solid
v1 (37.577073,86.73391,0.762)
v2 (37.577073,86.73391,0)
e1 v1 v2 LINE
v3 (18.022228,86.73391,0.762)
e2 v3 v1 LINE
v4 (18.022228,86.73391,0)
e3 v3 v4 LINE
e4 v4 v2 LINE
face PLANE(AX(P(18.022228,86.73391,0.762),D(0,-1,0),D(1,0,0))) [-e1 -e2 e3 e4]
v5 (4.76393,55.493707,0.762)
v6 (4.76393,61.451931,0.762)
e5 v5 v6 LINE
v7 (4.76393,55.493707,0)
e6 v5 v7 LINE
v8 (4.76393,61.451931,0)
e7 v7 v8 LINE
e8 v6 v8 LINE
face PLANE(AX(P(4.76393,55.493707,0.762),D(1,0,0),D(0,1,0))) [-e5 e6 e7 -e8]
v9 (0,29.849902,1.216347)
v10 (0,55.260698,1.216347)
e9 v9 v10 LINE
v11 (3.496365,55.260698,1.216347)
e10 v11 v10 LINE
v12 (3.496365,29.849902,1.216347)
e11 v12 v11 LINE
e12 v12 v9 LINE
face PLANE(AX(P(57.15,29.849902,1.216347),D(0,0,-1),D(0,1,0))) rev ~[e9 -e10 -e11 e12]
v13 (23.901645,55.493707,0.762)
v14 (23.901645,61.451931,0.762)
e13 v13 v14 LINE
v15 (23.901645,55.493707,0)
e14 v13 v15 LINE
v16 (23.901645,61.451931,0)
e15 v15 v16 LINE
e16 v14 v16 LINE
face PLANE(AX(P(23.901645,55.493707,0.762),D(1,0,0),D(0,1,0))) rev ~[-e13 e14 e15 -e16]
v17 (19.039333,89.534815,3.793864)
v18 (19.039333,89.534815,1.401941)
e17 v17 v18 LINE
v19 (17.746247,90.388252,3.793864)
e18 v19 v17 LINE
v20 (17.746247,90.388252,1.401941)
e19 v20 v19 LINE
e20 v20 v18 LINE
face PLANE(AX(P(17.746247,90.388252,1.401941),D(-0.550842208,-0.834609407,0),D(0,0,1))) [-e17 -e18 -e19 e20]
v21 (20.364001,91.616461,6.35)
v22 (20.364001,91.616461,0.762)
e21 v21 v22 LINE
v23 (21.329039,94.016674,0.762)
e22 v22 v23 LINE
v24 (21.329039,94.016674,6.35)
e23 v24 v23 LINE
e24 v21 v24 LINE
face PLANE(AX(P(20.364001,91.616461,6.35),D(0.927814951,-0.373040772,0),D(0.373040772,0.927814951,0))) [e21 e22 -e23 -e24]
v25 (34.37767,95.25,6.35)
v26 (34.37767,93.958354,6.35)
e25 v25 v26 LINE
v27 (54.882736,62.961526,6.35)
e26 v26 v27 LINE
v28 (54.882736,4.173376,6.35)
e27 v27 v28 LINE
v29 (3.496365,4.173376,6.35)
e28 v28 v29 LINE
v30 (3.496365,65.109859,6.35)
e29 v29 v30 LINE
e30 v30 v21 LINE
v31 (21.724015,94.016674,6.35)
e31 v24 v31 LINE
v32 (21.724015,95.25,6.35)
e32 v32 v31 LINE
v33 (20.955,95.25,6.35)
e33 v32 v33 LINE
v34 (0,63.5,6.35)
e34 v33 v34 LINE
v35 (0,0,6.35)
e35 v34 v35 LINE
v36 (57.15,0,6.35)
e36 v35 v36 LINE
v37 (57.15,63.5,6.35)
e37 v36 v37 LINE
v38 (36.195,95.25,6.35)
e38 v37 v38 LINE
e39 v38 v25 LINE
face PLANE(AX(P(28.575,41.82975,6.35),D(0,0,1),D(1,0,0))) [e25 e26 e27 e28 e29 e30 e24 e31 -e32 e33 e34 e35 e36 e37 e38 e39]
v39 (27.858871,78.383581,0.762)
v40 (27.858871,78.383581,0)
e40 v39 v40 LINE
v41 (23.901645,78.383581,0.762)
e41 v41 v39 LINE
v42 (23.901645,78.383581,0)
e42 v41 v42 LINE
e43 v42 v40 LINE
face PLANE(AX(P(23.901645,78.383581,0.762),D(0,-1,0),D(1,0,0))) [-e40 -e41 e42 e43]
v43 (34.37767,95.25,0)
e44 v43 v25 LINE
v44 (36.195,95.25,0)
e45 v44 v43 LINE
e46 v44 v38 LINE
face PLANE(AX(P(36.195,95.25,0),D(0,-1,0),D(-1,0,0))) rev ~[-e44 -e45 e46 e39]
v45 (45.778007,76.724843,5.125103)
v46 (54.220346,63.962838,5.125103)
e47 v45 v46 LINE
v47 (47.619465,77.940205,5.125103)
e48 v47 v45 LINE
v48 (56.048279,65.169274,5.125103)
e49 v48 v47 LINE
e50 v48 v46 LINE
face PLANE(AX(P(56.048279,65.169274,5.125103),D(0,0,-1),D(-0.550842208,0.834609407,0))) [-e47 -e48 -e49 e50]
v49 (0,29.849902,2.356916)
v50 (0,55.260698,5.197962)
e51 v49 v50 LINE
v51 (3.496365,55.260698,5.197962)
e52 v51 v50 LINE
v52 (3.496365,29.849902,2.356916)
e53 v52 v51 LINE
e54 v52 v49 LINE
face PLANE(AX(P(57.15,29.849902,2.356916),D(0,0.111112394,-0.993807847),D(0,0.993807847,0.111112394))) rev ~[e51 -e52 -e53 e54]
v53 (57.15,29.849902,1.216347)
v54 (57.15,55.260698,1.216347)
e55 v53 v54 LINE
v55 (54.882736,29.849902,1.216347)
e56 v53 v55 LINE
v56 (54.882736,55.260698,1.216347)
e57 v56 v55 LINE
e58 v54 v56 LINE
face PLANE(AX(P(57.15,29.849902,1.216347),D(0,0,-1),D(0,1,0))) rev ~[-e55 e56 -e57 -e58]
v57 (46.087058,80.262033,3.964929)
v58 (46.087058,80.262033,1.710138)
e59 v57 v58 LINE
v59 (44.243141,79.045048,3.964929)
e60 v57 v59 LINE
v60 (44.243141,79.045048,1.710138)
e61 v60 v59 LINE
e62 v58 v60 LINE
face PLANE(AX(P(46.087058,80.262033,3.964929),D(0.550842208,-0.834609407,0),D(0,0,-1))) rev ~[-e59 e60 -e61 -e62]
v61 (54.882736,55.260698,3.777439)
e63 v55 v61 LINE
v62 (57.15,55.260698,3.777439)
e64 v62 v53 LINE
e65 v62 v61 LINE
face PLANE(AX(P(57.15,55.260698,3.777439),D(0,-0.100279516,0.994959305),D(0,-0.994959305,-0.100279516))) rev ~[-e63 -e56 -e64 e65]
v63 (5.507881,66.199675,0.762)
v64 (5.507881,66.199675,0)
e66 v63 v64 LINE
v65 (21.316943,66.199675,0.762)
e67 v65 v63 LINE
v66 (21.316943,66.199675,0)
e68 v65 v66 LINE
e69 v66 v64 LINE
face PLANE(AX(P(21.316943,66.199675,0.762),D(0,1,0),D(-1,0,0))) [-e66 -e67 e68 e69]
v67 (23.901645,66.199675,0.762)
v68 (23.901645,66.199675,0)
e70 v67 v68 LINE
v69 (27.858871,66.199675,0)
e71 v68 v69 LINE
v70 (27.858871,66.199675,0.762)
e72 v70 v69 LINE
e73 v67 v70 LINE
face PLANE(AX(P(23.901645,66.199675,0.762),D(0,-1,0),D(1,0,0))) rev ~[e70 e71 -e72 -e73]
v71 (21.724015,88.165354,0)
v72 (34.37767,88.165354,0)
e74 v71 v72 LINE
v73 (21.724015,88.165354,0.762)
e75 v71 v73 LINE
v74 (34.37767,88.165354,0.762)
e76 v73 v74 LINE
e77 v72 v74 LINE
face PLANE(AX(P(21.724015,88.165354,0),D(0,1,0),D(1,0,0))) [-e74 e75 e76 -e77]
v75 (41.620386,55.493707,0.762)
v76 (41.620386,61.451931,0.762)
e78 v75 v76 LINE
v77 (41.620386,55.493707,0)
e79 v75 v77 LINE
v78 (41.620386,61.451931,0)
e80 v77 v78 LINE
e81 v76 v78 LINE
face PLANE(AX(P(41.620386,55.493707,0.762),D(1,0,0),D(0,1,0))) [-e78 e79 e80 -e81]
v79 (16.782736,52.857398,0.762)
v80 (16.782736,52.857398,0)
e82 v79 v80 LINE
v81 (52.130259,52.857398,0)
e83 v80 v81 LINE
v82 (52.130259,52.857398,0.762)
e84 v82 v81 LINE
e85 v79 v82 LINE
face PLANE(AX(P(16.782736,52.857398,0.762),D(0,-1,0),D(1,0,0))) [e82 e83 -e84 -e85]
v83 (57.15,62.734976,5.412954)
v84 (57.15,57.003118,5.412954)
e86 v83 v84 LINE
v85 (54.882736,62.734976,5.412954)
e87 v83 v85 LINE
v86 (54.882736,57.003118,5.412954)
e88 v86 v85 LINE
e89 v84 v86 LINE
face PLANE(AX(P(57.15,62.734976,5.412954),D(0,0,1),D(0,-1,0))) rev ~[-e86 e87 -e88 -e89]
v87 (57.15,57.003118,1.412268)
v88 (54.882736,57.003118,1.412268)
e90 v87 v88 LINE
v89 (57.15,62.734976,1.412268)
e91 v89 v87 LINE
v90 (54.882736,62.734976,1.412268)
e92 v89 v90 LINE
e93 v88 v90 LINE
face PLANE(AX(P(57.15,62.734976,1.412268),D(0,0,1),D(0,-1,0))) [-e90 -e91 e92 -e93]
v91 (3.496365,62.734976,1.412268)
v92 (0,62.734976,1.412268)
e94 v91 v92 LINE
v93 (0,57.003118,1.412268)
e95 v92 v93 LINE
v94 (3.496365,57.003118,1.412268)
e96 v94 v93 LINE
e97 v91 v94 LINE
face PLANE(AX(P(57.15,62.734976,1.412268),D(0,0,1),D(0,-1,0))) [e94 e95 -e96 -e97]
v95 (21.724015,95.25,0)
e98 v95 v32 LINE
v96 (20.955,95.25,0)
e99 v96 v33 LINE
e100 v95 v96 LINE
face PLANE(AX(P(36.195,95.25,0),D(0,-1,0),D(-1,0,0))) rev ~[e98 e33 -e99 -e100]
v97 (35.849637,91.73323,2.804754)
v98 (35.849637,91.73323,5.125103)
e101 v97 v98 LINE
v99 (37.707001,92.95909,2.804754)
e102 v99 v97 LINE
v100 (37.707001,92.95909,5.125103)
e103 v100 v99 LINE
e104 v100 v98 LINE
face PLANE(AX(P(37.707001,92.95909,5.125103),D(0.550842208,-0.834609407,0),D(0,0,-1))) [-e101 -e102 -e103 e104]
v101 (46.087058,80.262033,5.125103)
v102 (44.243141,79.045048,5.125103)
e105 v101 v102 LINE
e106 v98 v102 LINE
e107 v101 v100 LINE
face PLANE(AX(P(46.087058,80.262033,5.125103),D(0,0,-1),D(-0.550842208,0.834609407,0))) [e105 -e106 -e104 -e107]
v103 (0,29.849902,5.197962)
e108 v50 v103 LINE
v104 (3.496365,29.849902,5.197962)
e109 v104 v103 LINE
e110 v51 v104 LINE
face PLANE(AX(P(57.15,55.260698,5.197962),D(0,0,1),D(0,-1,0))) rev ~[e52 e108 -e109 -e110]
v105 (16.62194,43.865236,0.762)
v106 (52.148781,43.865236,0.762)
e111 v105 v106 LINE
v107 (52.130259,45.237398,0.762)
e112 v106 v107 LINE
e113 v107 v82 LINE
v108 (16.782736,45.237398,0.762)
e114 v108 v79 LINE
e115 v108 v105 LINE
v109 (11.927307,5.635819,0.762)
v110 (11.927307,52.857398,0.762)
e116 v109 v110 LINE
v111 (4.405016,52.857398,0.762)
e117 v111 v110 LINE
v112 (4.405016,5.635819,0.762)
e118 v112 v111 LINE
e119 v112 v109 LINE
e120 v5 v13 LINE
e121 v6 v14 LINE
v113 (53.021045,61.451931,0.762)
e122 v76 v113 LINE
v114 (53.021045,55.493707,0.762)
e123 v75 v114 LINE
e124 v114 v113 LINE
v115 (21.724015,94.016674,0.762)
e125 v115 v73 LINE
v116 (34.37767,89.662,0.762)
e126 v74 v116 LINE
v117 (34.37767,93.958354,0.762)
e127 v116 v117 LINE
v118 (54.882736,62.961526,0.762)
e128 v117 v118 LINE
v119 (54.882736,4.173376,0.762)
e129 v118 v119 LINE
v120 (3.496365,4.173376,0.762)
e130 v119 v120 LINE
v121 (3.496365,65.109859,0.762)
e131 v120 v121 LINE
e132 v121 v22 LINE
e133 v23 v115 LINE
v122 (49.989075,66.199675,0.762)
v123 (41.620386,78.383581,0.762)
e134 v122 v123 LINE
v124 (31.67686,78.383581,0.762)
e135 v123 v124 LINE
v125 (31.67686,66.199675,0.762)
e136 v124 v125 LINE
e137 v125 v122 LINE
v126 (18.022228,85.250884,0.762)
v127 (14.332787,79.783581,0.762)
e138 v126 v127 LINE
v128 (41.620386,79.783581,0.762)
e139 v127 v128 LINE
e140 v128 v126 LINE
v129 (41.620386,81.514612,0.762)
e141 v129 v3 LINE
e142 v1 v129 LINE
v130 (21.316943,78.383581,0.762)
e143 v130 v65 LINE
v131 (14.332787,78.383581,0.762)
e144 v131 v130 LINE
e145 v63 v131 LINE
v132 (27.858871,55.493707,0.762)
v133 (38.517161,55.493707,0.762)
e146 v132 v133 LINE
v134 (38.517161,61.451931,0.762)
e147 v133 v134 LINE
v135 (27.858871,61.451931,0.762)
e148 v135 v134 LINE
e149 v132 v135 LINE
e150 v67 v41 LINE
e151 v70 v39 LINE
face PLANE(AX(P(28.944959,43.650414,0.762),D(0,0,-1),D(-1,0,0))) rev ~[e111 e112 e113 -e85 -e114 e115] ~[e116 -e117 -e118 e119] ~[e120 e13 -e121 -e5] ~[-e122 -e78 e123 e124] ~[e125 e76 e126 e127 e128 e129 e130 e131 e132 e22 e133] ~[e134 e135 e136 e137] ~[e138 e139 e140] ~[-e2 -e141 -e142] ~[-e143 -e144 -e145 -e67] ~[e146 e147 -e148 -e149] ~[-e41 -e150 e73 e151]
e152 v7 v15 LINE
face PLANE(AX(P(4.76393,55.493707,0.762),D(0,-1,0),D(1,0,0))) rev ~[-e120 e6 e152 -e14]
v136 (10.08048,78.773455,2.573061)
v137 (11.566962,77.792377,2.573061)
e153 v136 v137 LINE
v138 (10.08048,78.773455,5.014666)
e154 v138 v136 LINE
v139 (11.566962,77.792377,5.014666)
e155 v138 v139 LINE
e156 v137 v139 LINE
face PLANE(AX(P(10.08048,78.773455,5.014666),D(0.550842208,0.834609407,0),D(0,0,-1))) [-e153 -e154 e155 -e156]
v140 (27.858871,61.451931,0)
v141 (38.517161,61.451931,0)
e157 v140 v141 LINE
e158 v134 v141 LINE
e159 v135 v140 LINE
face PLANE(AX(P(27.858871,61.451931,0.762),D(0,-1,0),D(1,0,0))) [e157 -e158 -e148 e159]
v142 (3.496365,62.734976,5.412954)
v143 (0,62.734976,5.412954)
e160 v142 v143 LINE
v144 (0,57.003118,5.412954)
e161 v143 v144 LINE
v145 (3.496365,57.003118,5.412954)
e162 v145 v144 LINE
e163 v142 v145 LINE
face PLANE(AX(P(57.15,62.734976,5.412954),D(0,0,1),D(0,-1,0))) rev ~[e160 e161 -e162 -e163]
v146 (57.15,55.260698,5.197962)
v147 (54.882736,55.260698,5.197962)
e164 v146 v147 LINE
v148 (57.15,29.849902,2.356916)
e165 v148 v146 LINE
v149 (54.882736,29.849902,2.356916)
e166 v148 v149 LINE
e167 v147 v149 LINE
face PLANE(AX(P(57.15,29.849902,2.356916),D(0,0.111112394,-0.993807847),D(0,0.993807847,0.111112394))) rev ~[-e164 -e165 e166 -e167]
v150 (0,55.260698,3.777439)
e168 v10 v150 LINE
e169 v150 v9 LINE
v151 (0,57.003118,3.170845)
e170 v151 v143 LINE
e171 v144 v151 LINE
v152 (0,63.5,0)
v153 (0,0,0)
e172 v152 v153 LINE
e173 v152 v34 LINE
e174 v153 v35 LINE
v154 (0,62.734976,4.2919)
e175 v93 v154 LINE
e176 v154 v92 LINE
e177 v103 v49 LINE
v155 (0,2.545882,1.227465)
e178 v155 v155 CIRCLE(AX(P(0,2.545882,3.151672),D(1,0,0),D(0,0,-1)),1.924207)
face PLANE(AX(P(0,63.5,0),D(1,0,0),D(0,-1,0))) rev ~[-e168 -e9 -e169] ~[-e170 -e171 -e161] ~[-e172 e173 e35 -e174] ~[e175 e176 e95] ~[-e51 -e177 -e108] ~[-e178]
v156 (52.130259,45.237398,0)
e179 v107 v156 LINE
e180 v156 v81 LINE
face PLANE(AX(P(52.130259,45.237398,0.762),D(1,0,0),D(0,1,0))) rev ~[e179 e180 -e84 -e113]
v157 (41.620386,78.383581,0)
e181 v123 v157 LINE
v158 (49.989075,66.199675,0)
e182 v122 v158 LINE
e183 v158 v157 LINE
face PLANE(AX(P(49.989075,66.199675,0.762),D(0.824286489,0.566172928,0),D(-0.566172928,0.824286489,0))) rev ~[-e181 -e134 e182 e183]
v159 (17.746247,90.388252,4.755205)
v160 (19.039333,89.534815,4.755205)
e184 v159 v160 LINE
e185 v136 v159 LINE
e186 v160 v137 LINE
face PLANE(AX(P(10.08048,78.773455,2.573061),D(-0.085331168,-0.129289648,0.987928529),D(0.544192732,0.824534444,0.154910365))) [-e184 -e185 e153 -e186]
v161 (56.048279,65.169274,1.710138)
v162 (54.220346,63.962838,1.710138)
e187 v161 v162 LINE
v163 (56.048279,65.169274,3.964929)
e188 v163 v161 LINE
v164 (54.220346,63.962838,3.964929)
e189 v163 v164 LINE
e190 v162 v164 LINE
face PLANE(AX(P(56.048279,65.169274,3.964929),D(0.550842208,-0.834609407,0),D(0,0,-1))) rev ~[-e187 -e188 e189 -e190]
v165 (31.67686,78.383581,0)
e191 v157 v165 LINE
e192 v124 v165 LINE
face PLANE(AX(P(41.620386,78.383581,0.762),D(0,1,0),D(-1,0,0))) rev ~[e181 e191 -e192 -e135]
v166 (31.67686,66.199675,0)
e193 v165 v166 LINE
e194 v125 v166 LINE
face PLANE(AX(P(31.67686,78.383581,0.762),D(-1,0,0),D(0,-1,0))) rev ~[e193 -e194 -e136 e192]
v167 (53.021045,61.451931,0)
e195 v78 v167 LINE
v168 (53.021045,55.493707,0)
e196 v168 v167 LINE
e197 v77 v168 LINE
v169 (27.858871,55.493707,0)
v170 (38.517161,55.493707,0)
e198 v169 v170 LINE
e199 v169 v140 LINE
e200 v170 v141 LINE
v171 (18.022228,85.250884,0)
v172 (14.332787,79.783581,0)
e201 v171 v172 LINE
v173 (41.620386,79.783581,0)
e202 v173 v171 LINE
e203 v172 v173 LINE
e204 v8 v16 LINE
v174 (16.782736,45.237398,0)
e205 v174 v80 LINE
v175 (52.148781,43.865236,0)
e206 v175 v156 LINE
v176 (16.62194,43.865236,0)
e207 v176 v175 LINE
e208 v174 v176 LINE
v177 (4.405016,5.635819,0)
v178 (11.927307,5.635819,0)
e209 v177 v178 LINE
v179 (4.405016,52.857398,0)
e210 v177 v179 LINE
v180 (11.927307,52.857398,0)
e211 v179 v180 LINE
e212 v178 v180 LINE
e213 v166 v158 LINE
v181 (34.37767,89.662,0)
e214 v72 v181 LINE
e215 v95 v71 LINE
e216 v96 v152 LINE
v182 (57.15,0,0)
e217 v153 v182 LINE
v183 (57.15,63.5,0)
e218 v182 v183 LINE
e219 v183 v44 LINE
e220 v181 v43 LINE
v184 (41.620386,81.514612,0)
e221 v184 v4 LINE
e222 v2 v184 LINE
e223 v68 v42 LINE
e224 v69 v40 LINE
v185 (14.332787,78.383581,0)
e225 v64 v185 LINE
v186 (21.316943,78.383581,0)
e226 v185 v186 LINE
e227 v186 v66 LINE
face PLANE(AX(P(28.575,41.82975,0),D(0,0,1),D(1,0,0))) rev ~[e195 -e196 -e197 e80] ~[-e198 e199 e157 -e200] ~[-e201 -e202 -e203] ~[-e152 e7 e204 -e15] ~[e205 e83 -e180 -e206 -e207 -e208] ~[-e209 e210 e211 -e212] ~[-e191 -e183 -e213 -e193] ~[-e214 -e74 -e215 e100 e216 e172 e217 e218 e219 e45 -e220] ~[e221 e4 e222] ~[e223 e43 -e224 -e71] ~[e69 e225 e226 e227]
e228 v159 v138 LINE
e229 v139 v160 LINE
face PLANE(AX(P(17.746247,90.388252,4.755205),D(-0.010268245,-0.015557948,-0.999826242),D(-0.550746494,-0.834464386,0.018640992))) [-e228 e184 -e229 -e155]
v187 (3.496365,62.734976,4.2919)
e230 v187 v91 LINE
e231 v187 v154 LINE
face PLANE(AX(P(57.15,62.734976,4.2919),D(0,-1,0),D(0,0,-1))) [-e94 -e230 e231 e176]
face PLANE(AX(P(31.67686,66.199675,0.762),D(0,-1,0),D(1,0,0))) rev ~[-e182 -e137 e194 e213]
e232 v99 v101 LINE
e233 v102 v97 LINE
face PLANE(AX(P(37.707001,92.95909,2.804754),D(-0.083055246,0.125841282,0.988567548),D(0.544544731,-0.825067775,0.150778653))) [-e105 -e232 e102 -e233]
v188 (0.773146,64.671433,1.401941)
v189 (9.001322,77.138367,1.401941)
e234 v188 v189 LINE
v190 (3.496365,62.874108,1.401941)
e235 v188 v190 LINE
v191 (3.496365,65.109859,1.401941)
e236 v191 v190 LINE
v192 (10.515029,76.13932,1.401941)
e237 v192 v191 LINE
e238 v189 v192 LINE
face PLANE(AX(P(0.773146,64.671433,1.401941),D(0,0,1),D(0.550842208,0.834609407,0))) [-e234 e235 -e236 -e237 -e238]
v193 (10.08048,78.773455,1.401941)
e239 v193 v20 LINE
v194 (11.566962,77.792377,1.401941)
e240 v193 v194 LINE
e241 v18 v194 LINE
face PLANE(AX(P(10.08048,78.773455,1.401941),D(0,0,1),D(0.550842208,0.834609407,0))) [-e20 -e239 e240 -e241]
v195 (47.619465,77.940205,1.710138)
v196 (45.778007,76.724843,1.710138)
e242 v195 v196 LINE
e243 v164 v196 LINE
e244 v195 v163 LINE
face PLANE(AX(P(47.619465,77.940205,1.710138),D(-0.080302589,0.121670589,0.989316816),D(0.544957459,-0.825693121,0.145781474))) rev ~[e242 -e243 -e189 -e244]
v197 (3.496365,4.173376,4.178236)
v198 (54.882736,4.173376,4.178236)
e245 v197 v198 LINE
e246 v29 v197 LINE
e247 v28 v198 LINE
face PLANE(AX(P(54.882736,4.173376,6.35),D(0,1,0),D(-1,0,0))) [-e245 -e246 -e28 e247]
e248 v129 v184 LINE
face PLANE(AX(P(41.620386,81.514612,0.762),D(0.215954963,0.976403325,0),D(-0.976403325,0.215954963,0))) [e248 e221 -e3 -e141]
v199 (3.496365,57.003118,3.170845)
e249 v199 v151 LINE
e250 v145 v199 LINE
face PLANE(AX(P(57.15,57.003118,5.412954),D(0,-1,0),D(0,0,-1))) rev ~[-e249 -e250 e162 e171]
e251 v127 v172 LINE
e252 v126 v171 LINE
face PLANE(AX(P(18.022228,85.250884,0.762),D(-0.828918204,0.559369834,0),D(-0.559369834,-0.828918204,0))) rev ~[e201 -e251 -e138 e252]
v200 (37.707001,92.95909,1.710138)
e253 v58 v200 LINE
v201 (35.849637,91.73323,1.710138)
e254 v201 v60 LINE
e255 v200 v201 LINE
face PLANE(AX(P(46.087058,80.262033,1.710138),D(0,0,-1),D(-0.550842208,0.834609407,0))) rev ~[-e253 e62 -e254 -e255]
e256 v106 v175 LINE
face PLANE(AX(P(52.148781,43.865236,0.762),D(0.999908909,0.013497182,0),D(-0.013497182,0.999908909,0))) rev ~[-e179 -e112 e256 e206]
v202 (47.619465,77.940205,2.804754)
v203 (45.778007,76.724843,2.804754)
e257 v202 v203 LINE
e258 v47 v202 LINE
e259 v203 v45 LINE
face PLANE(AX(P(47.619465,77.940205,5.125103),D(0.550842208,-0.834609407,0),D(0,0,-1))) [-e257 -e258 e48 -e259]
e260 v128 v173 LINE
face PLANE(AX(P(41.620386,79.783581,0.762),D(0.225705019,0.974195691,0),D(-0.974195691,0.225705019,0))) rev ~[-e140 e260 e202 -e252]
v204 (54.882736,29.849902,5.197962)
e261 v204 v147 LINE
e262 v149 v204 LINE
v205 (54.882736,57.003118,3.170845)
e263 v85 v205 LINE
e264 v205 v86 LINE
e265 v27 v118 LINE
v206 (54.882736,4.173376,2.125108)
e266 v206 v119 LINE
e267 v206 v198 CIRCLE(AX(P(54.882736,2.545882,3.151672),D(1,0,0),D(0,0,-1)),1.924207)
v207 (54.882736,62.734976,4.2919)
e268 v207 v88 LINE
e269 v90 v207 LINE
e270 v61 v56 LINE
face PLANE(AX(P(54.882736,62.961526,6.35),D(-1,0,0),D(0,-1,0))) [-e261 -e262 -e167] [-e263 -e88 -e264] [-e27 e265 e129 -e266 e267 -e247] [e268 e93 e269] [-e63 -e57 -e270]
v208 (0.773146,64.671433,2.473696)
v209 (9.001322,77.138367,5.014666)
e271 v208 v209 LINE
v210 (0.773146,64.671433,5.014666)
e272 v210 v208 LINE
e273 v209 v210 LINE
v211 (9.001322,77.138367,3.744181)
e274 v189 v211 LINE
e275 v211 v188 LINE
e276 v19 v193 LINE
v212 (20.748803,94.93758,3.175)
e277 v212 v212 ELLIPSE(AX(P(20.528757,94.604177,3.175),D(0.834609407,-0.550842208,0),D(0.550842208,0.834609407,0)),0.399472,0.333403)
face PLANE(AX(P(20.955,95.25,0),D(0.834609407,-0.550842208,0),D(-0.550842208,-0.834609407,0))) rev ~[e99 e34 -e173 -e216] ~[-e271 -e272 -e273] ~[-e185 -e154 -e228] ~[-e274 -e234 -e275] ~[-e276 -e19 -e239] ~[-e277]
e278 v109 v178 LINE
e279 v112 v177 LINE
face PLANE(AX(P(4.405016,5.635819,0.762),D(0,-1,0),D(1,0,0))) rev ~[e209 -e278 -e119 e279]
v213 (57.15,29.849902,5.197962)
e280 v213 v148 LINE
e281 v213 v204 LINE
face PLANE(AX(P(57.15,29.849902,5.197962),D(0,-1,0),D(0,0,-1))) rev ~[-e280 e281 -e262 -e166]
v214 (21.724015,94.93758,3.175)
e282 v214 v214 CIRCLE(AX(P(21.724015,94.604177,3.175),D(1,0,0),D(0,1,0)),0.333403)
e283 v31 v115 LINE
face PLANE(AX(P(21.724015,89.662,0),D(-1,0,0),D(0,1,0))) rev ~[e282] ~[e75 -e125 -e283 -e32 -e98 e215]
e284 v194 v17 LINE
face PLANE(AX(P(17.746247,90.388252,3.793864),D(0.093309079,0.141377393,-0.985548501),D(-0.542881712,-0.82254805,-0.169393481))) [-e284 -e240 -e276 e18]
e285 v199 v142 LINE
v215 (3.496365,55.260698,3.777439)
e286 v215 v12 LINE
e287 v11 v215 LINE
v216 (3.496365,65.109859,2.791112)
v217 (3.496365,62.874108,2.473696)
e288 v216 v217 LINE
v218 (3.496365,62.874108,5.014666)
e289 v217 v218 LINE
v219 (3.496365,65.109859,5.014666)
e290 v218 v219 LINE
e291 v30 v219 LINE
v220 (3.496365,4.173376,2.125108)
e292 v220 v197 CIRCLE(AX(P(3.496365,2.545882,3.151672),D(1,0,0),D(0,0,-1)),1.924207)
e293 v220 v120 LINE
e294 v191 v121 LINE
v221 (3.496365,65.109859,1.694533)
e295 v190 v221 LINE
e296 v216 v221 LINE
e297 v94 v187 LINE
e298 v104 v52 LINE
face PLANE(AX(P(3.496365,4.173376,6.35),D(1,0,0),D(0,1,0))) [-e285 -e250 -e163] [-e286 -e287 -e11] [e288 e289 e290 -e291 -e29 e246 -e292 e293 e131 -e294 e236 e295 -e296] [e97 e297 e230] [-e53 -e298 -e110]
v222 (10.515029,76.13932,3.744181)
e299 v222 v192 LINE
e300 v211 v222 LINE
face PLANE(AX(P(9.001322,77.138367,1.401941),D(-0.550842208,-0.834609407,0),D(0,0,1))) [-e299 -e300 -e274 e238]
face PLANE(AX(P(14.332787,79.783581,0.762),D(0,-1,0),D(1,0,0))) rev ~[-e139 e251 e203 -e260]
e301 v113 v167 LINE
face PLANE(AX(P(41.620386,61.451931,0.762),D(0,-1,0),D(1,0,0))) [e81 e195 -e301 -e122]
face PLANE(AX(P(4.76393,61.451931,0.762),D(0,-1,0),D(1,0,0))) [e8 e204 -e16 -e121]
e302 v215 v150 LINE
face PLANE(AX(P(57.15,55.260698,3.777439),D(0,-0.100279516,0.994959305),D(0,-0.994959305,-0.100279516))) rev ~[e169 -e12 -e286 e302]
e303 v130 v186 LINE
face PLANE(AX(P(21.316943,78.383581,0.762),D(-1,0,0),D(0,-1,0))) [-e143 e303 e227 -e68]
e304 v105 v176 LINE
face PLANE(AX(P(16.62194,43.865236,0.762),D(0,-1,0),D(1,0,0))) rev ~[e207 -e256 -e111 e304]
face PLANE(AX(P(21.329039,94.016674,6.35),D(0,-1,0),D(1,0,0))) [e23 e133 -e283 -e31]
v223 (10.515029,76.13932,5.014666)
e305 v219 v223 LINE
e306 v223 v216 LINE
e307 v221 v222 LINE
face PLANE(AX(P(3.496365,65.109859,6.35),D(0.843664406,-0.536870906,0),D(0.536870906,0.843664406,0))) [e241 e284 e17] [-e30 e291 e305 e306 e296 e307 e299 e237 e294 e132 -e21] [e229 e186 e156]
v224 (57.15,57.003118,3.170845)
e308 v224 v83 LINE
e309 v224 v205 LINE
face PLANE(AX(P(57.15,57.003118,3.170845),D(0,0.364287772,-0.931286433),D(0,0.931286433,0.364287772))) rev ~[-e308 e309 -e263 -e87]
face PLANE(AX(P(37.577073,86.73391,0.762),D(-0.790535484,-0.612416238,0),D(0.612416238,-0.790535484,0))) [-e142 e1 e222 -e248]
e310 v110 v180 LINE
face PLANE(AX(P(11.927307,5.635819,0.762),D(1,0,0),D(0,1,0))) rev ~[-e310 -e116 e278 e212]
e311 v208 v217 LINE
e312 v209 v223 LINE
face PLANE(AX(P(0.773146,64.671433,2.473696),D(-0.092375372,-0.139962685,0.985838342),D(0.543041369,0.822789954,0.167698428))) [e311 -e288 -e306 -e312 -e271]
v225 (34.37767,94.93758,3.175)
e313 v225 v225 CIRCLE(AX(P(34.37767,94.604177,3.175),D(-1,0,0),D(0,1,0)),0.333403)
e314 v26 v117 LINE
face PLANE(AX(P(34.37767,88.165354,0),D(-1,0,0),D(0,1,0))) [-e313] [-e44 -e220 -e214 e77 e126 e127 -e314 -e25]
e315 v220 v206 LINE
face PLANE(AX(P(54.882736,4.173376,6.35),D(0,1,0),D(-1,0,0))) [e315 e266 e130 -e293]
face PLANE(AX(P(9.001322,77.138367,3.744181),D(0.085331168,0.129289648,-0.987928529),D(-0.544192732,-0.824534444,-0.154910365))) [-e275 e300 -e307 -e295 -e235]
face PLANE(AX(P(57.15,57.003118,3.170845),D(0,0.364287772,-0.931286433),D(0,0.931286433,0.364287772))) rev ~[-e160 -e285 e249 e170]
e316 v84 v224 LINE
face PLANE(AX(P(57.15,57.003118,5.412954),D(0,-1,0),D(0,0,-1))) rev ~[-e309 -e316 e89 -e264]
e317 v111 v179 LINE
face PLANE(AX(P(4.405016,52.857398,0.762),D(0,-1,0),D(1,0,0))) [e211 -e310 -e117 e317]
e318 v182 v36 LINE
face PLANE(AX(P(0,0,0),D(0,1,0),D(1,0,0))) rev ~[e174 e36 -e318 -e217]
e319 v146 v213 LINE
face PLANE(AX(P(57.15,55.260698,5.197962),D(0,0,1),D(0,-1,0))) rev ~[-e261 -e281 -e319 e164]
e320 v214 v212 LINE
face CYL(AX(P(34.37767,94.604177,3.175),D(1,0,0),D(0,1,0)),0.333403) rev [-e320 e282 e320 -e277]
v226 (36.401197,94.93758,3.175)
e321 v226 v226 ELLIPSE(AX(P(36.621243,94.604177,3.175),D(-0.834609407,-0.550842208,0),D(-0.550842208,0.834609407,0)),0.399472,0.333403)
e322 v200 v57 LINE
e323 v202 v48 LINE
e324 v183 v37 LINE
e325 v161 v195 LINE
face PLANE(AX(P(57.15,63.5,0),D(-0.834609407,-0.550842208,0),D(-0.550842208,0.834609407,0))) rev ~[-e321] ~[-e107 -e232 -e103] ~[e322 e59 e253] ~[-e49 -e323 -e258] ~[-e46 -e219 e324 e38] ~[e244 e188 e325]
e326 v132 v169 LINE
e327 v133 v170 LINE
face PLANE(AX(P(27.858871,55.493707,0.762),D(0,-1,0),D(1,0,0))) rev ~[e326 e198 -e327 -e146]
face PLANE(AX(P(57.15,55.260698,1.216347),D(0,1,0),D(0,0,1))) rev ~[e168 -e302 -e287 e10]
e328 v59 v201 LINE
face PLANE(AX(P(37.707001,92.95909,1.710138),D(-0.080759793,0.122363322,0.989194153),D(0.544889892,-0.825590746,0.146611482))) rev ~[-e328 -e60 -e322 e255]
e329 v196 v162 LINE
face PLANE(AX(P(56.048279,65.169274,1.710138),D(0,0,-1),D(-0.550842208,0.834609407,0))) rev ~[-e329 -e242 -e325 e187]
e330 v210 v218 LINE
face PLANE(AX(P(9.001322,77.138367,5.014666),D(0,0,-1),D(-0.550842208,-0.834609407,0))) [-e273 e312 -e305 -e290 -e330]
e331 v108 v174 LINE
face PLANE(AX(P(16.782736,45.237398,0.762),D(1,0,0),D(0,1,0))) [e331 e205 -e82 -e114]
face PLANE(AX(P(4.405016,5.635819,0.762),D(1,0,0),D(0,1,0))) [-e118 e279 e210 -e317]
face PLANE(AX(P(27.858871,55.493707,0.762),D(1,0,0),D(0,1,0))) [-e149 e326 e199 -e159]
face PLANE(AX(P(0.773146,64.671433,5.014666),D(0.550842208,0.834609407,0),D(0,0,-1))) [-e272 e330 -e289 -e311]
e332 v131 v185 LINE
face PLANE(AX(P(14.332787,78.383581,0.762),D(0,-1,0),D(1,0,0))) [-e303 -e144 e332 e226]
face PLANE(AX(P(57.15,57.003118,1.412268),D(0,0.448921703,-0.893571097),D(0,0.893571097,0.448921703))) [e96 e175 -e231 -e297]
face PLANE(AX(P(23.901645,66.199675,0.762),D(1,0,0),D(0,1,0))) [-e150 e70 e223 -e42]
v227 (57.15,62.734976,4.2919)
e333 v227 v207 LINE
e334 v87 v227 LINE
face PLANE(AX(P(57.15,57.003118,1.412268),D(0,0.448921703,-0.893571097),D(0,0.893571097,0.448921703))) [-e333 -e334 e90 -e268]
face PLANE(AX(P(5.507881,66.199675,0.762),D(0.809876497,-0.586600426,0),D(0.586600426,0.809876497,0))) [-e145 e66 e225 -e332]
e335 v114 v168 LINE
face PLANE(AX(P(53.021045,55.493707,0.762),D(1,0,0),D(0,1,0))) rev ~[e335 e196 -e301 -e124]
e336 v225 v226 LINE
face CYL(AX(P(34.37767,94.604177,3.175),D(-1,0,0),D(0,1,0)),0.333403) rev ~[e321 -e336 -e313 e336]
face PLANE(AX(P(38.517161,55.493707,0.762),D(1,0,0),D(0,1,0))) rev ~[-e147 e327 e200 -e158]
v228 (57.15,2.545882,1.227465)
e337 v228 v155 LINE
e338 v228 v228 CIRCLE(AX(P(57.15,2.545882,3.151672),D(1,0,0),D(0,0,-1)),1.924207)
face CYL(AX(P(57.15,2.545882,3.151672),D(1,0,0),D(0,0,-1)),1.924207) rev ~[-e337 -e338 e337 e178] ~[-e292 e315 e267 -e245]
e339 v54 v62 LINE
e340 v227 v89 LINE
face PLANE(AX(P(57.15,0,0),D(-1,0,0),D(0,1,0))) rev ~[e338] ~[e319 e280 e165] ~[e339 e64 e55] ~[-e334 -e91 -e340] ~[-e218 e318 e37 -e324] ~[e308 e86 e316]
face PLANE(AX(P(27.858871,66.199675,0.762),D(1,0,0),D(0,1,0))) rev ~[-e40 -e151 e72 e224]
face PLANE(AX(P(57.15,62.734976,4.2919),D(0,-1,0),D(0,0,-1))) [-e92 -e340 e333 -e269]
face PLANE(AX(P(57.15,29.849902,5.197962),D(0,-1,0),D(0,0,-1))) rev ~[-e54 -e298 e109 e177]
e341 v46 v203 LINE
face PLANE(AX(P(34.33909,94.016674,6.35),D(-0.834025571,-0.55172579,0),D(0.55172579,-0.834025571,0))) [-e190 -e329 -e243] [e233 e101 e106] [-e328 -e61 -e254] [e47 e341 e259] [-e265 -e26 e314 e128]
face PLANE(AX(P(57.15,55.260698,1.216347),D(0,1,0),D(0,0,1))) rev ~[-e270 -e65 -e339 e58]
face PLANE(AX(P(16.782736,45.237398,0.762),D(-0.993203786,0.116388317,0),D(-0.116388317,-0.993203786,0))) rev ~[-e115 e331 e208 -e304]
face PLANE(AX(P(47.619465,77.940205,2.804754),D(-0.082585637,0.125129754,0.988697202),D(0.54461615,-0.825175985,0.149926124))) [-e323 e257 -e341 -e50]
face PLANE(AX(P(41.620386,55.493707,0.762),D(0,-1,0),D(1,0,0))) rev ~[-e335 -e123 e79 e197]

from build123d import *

# Parameters (mm, degrees)
BOSS_EXTRUDE2_DEPTH      = 6.35
CUT_EXTRUDE1_DEPTH       = 5.588
CUT_EXTRUDE3_DEPTH       = 58.15
CUT_EXTRUDE4_DEPTH       = 58.15
CUT_EXTRUDE5_DEPTH       = 5.588
CUT_EXTRUDE6_DEPTH       = 5.588
SKETCH9_W                = 5.834897671
SKETCH9_H                = 6.35
CUT_EXTRUDE7_DEPTH       = 5.588
SKETCH14_W               = 35.347523306
SKETCH14_H               = 7.62
SKETCH14_W_2             = 7.5222908
SKETCH14_H_2             = 47.221578267
CUT_EXTRUDE15_DEPTH      = 1.762
CUT_EXTRUDE16_DEPTH      = 1.762
SKETCH16_W               = 19.137714492
SKETCH16_H               = 5.958224415
SKETCH16_W_2             = 10.658290022
SKETCH16_W_3             = 11.400659267
SKETCH16_W_4             = 3.957226521
SKETCH16_H_2             = 12.183905404
CUT_EXTRUDE18_DEPTH      = 1.762
SKETCH24_W               = 3.80459217
SKETCH24_H               = 5.588
CUT_EXTRUDE24_DEPTH      = 7.35
CUT_EXTRUDE25_DEPTH      = 11.684
SKETCH26_W               = 3.014165169
SKETCH26_H               = 5.588
CUT_EXTRUDE26_DEPTH      = 11.684
SKETCH28_R               = 0.333403054
CUT_EXTRUDE27_DEPTH      = 35.377669607
CUT_EXTRUDE27_DEPTH_BACK = 23.772330393
SKETCH29_R               = 1.924206534
CUT_EXTRUDE28_DEPTH      = 58.15


with BuildPart() as part:
    # Sketch1 → Boss-Extrude2 (new body)
    with BuildSketch(Plane.XY):
        Polygon((0, 0), (57.15, 0), (57.15, 63.5), (36.195, 95.25), (28.575, 95.25), (20.955, 95.25), (0, 63.5), align=None)
    extrude(amount=BOSS_EXTRUDE2_DEPTH)

    # Sketch2 → Cut-Extrude1 (cut)
    with BuildSketch(Plane.XY.offset(6.35)):
        Polygon((20.364000747, 91.616461208), (21.329039406, 94.01667417), (34.339089661, 94.01667417), (54.882736024, 62.961525589), (54.882736024, 4.173376451), (3.496365447, 4.173376451), (3.496365447, 65.109859062), align=None)
    extrude(amount=-CUT_EXTRUDE1_DEPTH, mode=Mode.SUBTRACT)

    # Sketch5 → Cut-Extrude3 (cut, through all)
    with BuildSketch(Plane(origin=(57.15, 0, 0), x_dir=(0, 0, -1), z_dir=(1, 0, 0))):
        Polygon((-5.197962118, 29.849901792), (-2.356915502, 29.849901792), (-5.197962118, 55.260698225), align=None)
        Polygon((-1.216346756, 29.849901792), (-1.216346756, 55.260698225), (-3.77743881, 55.260698225), align=None)
    extrude(amount=-CUT_EXTRUDE3_DEPTH, mode=Mode.SUBTRACT)

    # Sketch6 → Cut-Extrude4 (cut, through all)
    with BuildSketch(Plane(origin=(57.15, 0, 0), x_dir=(0, 0, -1), z_dir=(1, 0, 0))):
        Polygon((-5.412954005, 57.003118273), (-3.170845056, 57.003118273), (-5.412954005, 62.734975907), align=None)
        Polygon((-4.291899531, 62.734975907), (-1.412268241, 62.734975907), (-1.412268241, 57.003118273), align=None)
    extrude(amount=-CUT_EXTRUDE4_DEPTH, mode=Mode.SUBTRACT)

    # Sketch7 → Cut-Extrude5 (cut)
    with BuildSketch(Plane(origin=(69.002507662, 45.541655057, 0), x_dir=(0, 0, -1), z_dir=(0.834609407, 0.550842208, 0))):
        Polygon((-5.125103363, 23.517131124), (-5.125103363, 38.818816904), (-2.804754482, 38.818816904), align=None)
        Polygon((-3.964928922, 23.517131124), (-1.710138277, 23.517131124), (-1.710138277, 38.818816904), align=None)
        Polygon((-5.125103363, 41.600750711), (-5.125103363, 56.813922895), (-2.804754482, 56.813922895), align=None)
        Polygon((-3.964928922, 41.600750711), (-1.710138277, 41.600750711), (-1.710138277, 56.813922895), align=None)
    extrude(amount=-CUT_EXTRUDE5_DEPTH, mode=Mode.SUBTRACT)

    # Sketch8 → Cut-Extrude6 (cut)
    with BuildSketch(Plane(origin=(-29.193368626, 19.267623293, 0), x_dir=(0, 0, 1), z_dir=(-0.834609407, 0.550842208, 0))):
        Polygon((5.014666305, 54.401267981), (2.473695685, 54.401267981), (5.014666305, 69.338714317), align=None)
        Polygon((1.401941454, 54.401267981), (1.401941454, 69.338714317), (3.744180995, 69.338714317), align=None)
        Polygon((5.014666305, 71.297820033), (2.573061224, 71.297820033), (4.755204833, 85.214267299), align=None)
        Polygon((1.401941454, 71.297820033), (1.401941454, 85.214267299), (3.793863765, 85.214267299), align=None)
    extrude(amount=-CUT_EXTRUDE6_DEPTH, mode=Mode.SUBTRACT)

    # Sketch9 → Cut-Extrude7 (cut)
    with BuildSketch(Plane(origin=(0, 95.25, 0), x_dir=(1, 0, 0), z_dir=(0, 1, 0))):
        with Locations((28.446055603, -3.175)):
            Rectangle(SKETCH9_W, SKETCH9_H)
    extrude(amount=-CUT_EXTRUDE7_DEPTH, mode=Mode.SUBTRACT)

    # Sketch14 → Cut-Extrude15 (cut, through all)
    with BuildSketch(Plane.XY.offset(0.762)):
        with Locations((34.456497677, 49.047397654)):
            Rectangle(SKETCH14_W, SKETCH14_H)
        with Locations((8.166161846, 29.246608521)):
            Rectangle(SKETCH14_W_2, SKETCH14_H_2)
    extrude(amount=-CUT_EXTRUDE15_DEPTH, mode=Mode.SUBTRACT)

    # Sketch15 → Cut-Extrude16 (cut, through all)
    with BuildSketch(Plane.XY.offset(0.762)):
        Polygon((16.621939644, 43.865236106), (52.148781332, 43.865236106), (52.13025933, 45.237397654), (16.782736024, 45.237397654), align=None)
    extrude(amount=-CUT_EXTRUDE16_DEPTH, mode=Mode.SUBTRACT)

    # Sketch16 → Cut-Extrude18 (cut, through all)
    with BuildSketch(Plane.XY.offset(0.762)):
        with Locations((14.332787326, 58.472819058)):
            Rectangle(SKETCH16_W, SKETCH16_H)
        with Locations((33.188016104, 58.472819058)):
            Rectangle(SKETCH16_W_2, SKETCH16_H)
        with Locations((47.320715601, 58.472819058)):
            Rectangle(SKETCH16_W_3, SKETCH16_H)
        Polygon((49.98907512, 66.19967542), (41.620385968, 78.383580824), (31.6768604, 78.383580824), (31.6768604, 66.19967542), align=None)
        with Locations((25.880257832, 72.291628122)):
            Rectangle(SKETCH16_W_4, SKETCH16_H_2)
        Polygon((5.507881152, 66.19967542), (14.332787326, 78.383580824), (21.316943171, 78.383580824), (21.316943171, 66.19967542), align=None)
        Polygon((18.022227631, 85.25088415), (14.332787326, 79.783581396), (41.620385968, 79.783581396), align=None)
        Polygon((18.022227631, 86.733909891), (37.577072812, 86.733909891), (41.620385968, 81.514612422), align=None)
    extrude(amount=-CUT_EXTRUDE18_DEPTH, mode=Mode.SUBTRACT)

    # Sketch24 → Cut-Extrude24 (cut, through all)
    with BuildSketch(Plane(origin=(0, 0, 0), x_dir=(-1, 0, 0), z_dir=(0, 0, -1))):
        with Locations((-23.626310682, 92.456)):
            Rectangle(SKETCH24_W, SKETCH24_H)
    extrude(amount=-CUT_EXTRUDE24_DEPTH, mode=Mode.SUBTRACT)

    # Sketch25 → Cut-Extrude25 (cut)
    with BuildSketch(Plane(origin=(0, 0, 0), x_dir=(-1, 0, 0), z_dir=(0, 0, -1))):
        Polygon((-21.724014597, 89.662), (-21.724014597, 88.165353891), (-34.377669607, 88.165353891), (-34.377669607, 89.662), (-31.363504438, 89.662), align=None)
    extrude(amount=-CUT_EXTRUDE25_DEPTH, mode=Mode.SUBTRACT)

    # Sketch26 → Cut-Extrude26 (cut)
    with BuildSketch(Plane(origin=(0, 0, 0), x_dir=(-1, 0, 0), z_dir=(0, 0, -1))):
        with Locations((-32.870587023, 92.456)):
            Rectangle(SKETCH26_W, SKETCH26_H)
    extrude(amount=-CUT_EXTRUDE26_DEPTH, mode=Mode.SUBTRACT)

    # Sketch28 → Cut-Extrude27 (cut, two sides)
    with BuildSketch(Plane.ZY.offset(-34.377669607)) as cut_extrude27_sk:
        with Locations(Location((3.175, 94.604177073, 0), (0, 0, 90))):  # turned: the seam where the file's is
            Circle(SKETCH28_R)
    extrude(amount=CUT_EXTRUDE27_DEPTH, mode=Mode.SUBTRACT)
    extrude(cut_extrude27_sk.sketch, amount=-CUT_EXTRUDE27_DEPTH_BACK, mode=Mode.SUBTRACT)

    # Sketch29 → Cut-Extrude28 (cut, through all)
    with BuildSketch(Plane(origin=(57.15, 0, 0), x_dir=(0, 0, -1), z_dir=(1, 0, 0))):
        with Locations((-3.151671904, 2.54588231)):
            Circle(SKETCH29_R)
    extrude(amount=-CUT_EXTRUDE28_DEPTH, mode=Mode.SUBTRACT)


solid = part.part
